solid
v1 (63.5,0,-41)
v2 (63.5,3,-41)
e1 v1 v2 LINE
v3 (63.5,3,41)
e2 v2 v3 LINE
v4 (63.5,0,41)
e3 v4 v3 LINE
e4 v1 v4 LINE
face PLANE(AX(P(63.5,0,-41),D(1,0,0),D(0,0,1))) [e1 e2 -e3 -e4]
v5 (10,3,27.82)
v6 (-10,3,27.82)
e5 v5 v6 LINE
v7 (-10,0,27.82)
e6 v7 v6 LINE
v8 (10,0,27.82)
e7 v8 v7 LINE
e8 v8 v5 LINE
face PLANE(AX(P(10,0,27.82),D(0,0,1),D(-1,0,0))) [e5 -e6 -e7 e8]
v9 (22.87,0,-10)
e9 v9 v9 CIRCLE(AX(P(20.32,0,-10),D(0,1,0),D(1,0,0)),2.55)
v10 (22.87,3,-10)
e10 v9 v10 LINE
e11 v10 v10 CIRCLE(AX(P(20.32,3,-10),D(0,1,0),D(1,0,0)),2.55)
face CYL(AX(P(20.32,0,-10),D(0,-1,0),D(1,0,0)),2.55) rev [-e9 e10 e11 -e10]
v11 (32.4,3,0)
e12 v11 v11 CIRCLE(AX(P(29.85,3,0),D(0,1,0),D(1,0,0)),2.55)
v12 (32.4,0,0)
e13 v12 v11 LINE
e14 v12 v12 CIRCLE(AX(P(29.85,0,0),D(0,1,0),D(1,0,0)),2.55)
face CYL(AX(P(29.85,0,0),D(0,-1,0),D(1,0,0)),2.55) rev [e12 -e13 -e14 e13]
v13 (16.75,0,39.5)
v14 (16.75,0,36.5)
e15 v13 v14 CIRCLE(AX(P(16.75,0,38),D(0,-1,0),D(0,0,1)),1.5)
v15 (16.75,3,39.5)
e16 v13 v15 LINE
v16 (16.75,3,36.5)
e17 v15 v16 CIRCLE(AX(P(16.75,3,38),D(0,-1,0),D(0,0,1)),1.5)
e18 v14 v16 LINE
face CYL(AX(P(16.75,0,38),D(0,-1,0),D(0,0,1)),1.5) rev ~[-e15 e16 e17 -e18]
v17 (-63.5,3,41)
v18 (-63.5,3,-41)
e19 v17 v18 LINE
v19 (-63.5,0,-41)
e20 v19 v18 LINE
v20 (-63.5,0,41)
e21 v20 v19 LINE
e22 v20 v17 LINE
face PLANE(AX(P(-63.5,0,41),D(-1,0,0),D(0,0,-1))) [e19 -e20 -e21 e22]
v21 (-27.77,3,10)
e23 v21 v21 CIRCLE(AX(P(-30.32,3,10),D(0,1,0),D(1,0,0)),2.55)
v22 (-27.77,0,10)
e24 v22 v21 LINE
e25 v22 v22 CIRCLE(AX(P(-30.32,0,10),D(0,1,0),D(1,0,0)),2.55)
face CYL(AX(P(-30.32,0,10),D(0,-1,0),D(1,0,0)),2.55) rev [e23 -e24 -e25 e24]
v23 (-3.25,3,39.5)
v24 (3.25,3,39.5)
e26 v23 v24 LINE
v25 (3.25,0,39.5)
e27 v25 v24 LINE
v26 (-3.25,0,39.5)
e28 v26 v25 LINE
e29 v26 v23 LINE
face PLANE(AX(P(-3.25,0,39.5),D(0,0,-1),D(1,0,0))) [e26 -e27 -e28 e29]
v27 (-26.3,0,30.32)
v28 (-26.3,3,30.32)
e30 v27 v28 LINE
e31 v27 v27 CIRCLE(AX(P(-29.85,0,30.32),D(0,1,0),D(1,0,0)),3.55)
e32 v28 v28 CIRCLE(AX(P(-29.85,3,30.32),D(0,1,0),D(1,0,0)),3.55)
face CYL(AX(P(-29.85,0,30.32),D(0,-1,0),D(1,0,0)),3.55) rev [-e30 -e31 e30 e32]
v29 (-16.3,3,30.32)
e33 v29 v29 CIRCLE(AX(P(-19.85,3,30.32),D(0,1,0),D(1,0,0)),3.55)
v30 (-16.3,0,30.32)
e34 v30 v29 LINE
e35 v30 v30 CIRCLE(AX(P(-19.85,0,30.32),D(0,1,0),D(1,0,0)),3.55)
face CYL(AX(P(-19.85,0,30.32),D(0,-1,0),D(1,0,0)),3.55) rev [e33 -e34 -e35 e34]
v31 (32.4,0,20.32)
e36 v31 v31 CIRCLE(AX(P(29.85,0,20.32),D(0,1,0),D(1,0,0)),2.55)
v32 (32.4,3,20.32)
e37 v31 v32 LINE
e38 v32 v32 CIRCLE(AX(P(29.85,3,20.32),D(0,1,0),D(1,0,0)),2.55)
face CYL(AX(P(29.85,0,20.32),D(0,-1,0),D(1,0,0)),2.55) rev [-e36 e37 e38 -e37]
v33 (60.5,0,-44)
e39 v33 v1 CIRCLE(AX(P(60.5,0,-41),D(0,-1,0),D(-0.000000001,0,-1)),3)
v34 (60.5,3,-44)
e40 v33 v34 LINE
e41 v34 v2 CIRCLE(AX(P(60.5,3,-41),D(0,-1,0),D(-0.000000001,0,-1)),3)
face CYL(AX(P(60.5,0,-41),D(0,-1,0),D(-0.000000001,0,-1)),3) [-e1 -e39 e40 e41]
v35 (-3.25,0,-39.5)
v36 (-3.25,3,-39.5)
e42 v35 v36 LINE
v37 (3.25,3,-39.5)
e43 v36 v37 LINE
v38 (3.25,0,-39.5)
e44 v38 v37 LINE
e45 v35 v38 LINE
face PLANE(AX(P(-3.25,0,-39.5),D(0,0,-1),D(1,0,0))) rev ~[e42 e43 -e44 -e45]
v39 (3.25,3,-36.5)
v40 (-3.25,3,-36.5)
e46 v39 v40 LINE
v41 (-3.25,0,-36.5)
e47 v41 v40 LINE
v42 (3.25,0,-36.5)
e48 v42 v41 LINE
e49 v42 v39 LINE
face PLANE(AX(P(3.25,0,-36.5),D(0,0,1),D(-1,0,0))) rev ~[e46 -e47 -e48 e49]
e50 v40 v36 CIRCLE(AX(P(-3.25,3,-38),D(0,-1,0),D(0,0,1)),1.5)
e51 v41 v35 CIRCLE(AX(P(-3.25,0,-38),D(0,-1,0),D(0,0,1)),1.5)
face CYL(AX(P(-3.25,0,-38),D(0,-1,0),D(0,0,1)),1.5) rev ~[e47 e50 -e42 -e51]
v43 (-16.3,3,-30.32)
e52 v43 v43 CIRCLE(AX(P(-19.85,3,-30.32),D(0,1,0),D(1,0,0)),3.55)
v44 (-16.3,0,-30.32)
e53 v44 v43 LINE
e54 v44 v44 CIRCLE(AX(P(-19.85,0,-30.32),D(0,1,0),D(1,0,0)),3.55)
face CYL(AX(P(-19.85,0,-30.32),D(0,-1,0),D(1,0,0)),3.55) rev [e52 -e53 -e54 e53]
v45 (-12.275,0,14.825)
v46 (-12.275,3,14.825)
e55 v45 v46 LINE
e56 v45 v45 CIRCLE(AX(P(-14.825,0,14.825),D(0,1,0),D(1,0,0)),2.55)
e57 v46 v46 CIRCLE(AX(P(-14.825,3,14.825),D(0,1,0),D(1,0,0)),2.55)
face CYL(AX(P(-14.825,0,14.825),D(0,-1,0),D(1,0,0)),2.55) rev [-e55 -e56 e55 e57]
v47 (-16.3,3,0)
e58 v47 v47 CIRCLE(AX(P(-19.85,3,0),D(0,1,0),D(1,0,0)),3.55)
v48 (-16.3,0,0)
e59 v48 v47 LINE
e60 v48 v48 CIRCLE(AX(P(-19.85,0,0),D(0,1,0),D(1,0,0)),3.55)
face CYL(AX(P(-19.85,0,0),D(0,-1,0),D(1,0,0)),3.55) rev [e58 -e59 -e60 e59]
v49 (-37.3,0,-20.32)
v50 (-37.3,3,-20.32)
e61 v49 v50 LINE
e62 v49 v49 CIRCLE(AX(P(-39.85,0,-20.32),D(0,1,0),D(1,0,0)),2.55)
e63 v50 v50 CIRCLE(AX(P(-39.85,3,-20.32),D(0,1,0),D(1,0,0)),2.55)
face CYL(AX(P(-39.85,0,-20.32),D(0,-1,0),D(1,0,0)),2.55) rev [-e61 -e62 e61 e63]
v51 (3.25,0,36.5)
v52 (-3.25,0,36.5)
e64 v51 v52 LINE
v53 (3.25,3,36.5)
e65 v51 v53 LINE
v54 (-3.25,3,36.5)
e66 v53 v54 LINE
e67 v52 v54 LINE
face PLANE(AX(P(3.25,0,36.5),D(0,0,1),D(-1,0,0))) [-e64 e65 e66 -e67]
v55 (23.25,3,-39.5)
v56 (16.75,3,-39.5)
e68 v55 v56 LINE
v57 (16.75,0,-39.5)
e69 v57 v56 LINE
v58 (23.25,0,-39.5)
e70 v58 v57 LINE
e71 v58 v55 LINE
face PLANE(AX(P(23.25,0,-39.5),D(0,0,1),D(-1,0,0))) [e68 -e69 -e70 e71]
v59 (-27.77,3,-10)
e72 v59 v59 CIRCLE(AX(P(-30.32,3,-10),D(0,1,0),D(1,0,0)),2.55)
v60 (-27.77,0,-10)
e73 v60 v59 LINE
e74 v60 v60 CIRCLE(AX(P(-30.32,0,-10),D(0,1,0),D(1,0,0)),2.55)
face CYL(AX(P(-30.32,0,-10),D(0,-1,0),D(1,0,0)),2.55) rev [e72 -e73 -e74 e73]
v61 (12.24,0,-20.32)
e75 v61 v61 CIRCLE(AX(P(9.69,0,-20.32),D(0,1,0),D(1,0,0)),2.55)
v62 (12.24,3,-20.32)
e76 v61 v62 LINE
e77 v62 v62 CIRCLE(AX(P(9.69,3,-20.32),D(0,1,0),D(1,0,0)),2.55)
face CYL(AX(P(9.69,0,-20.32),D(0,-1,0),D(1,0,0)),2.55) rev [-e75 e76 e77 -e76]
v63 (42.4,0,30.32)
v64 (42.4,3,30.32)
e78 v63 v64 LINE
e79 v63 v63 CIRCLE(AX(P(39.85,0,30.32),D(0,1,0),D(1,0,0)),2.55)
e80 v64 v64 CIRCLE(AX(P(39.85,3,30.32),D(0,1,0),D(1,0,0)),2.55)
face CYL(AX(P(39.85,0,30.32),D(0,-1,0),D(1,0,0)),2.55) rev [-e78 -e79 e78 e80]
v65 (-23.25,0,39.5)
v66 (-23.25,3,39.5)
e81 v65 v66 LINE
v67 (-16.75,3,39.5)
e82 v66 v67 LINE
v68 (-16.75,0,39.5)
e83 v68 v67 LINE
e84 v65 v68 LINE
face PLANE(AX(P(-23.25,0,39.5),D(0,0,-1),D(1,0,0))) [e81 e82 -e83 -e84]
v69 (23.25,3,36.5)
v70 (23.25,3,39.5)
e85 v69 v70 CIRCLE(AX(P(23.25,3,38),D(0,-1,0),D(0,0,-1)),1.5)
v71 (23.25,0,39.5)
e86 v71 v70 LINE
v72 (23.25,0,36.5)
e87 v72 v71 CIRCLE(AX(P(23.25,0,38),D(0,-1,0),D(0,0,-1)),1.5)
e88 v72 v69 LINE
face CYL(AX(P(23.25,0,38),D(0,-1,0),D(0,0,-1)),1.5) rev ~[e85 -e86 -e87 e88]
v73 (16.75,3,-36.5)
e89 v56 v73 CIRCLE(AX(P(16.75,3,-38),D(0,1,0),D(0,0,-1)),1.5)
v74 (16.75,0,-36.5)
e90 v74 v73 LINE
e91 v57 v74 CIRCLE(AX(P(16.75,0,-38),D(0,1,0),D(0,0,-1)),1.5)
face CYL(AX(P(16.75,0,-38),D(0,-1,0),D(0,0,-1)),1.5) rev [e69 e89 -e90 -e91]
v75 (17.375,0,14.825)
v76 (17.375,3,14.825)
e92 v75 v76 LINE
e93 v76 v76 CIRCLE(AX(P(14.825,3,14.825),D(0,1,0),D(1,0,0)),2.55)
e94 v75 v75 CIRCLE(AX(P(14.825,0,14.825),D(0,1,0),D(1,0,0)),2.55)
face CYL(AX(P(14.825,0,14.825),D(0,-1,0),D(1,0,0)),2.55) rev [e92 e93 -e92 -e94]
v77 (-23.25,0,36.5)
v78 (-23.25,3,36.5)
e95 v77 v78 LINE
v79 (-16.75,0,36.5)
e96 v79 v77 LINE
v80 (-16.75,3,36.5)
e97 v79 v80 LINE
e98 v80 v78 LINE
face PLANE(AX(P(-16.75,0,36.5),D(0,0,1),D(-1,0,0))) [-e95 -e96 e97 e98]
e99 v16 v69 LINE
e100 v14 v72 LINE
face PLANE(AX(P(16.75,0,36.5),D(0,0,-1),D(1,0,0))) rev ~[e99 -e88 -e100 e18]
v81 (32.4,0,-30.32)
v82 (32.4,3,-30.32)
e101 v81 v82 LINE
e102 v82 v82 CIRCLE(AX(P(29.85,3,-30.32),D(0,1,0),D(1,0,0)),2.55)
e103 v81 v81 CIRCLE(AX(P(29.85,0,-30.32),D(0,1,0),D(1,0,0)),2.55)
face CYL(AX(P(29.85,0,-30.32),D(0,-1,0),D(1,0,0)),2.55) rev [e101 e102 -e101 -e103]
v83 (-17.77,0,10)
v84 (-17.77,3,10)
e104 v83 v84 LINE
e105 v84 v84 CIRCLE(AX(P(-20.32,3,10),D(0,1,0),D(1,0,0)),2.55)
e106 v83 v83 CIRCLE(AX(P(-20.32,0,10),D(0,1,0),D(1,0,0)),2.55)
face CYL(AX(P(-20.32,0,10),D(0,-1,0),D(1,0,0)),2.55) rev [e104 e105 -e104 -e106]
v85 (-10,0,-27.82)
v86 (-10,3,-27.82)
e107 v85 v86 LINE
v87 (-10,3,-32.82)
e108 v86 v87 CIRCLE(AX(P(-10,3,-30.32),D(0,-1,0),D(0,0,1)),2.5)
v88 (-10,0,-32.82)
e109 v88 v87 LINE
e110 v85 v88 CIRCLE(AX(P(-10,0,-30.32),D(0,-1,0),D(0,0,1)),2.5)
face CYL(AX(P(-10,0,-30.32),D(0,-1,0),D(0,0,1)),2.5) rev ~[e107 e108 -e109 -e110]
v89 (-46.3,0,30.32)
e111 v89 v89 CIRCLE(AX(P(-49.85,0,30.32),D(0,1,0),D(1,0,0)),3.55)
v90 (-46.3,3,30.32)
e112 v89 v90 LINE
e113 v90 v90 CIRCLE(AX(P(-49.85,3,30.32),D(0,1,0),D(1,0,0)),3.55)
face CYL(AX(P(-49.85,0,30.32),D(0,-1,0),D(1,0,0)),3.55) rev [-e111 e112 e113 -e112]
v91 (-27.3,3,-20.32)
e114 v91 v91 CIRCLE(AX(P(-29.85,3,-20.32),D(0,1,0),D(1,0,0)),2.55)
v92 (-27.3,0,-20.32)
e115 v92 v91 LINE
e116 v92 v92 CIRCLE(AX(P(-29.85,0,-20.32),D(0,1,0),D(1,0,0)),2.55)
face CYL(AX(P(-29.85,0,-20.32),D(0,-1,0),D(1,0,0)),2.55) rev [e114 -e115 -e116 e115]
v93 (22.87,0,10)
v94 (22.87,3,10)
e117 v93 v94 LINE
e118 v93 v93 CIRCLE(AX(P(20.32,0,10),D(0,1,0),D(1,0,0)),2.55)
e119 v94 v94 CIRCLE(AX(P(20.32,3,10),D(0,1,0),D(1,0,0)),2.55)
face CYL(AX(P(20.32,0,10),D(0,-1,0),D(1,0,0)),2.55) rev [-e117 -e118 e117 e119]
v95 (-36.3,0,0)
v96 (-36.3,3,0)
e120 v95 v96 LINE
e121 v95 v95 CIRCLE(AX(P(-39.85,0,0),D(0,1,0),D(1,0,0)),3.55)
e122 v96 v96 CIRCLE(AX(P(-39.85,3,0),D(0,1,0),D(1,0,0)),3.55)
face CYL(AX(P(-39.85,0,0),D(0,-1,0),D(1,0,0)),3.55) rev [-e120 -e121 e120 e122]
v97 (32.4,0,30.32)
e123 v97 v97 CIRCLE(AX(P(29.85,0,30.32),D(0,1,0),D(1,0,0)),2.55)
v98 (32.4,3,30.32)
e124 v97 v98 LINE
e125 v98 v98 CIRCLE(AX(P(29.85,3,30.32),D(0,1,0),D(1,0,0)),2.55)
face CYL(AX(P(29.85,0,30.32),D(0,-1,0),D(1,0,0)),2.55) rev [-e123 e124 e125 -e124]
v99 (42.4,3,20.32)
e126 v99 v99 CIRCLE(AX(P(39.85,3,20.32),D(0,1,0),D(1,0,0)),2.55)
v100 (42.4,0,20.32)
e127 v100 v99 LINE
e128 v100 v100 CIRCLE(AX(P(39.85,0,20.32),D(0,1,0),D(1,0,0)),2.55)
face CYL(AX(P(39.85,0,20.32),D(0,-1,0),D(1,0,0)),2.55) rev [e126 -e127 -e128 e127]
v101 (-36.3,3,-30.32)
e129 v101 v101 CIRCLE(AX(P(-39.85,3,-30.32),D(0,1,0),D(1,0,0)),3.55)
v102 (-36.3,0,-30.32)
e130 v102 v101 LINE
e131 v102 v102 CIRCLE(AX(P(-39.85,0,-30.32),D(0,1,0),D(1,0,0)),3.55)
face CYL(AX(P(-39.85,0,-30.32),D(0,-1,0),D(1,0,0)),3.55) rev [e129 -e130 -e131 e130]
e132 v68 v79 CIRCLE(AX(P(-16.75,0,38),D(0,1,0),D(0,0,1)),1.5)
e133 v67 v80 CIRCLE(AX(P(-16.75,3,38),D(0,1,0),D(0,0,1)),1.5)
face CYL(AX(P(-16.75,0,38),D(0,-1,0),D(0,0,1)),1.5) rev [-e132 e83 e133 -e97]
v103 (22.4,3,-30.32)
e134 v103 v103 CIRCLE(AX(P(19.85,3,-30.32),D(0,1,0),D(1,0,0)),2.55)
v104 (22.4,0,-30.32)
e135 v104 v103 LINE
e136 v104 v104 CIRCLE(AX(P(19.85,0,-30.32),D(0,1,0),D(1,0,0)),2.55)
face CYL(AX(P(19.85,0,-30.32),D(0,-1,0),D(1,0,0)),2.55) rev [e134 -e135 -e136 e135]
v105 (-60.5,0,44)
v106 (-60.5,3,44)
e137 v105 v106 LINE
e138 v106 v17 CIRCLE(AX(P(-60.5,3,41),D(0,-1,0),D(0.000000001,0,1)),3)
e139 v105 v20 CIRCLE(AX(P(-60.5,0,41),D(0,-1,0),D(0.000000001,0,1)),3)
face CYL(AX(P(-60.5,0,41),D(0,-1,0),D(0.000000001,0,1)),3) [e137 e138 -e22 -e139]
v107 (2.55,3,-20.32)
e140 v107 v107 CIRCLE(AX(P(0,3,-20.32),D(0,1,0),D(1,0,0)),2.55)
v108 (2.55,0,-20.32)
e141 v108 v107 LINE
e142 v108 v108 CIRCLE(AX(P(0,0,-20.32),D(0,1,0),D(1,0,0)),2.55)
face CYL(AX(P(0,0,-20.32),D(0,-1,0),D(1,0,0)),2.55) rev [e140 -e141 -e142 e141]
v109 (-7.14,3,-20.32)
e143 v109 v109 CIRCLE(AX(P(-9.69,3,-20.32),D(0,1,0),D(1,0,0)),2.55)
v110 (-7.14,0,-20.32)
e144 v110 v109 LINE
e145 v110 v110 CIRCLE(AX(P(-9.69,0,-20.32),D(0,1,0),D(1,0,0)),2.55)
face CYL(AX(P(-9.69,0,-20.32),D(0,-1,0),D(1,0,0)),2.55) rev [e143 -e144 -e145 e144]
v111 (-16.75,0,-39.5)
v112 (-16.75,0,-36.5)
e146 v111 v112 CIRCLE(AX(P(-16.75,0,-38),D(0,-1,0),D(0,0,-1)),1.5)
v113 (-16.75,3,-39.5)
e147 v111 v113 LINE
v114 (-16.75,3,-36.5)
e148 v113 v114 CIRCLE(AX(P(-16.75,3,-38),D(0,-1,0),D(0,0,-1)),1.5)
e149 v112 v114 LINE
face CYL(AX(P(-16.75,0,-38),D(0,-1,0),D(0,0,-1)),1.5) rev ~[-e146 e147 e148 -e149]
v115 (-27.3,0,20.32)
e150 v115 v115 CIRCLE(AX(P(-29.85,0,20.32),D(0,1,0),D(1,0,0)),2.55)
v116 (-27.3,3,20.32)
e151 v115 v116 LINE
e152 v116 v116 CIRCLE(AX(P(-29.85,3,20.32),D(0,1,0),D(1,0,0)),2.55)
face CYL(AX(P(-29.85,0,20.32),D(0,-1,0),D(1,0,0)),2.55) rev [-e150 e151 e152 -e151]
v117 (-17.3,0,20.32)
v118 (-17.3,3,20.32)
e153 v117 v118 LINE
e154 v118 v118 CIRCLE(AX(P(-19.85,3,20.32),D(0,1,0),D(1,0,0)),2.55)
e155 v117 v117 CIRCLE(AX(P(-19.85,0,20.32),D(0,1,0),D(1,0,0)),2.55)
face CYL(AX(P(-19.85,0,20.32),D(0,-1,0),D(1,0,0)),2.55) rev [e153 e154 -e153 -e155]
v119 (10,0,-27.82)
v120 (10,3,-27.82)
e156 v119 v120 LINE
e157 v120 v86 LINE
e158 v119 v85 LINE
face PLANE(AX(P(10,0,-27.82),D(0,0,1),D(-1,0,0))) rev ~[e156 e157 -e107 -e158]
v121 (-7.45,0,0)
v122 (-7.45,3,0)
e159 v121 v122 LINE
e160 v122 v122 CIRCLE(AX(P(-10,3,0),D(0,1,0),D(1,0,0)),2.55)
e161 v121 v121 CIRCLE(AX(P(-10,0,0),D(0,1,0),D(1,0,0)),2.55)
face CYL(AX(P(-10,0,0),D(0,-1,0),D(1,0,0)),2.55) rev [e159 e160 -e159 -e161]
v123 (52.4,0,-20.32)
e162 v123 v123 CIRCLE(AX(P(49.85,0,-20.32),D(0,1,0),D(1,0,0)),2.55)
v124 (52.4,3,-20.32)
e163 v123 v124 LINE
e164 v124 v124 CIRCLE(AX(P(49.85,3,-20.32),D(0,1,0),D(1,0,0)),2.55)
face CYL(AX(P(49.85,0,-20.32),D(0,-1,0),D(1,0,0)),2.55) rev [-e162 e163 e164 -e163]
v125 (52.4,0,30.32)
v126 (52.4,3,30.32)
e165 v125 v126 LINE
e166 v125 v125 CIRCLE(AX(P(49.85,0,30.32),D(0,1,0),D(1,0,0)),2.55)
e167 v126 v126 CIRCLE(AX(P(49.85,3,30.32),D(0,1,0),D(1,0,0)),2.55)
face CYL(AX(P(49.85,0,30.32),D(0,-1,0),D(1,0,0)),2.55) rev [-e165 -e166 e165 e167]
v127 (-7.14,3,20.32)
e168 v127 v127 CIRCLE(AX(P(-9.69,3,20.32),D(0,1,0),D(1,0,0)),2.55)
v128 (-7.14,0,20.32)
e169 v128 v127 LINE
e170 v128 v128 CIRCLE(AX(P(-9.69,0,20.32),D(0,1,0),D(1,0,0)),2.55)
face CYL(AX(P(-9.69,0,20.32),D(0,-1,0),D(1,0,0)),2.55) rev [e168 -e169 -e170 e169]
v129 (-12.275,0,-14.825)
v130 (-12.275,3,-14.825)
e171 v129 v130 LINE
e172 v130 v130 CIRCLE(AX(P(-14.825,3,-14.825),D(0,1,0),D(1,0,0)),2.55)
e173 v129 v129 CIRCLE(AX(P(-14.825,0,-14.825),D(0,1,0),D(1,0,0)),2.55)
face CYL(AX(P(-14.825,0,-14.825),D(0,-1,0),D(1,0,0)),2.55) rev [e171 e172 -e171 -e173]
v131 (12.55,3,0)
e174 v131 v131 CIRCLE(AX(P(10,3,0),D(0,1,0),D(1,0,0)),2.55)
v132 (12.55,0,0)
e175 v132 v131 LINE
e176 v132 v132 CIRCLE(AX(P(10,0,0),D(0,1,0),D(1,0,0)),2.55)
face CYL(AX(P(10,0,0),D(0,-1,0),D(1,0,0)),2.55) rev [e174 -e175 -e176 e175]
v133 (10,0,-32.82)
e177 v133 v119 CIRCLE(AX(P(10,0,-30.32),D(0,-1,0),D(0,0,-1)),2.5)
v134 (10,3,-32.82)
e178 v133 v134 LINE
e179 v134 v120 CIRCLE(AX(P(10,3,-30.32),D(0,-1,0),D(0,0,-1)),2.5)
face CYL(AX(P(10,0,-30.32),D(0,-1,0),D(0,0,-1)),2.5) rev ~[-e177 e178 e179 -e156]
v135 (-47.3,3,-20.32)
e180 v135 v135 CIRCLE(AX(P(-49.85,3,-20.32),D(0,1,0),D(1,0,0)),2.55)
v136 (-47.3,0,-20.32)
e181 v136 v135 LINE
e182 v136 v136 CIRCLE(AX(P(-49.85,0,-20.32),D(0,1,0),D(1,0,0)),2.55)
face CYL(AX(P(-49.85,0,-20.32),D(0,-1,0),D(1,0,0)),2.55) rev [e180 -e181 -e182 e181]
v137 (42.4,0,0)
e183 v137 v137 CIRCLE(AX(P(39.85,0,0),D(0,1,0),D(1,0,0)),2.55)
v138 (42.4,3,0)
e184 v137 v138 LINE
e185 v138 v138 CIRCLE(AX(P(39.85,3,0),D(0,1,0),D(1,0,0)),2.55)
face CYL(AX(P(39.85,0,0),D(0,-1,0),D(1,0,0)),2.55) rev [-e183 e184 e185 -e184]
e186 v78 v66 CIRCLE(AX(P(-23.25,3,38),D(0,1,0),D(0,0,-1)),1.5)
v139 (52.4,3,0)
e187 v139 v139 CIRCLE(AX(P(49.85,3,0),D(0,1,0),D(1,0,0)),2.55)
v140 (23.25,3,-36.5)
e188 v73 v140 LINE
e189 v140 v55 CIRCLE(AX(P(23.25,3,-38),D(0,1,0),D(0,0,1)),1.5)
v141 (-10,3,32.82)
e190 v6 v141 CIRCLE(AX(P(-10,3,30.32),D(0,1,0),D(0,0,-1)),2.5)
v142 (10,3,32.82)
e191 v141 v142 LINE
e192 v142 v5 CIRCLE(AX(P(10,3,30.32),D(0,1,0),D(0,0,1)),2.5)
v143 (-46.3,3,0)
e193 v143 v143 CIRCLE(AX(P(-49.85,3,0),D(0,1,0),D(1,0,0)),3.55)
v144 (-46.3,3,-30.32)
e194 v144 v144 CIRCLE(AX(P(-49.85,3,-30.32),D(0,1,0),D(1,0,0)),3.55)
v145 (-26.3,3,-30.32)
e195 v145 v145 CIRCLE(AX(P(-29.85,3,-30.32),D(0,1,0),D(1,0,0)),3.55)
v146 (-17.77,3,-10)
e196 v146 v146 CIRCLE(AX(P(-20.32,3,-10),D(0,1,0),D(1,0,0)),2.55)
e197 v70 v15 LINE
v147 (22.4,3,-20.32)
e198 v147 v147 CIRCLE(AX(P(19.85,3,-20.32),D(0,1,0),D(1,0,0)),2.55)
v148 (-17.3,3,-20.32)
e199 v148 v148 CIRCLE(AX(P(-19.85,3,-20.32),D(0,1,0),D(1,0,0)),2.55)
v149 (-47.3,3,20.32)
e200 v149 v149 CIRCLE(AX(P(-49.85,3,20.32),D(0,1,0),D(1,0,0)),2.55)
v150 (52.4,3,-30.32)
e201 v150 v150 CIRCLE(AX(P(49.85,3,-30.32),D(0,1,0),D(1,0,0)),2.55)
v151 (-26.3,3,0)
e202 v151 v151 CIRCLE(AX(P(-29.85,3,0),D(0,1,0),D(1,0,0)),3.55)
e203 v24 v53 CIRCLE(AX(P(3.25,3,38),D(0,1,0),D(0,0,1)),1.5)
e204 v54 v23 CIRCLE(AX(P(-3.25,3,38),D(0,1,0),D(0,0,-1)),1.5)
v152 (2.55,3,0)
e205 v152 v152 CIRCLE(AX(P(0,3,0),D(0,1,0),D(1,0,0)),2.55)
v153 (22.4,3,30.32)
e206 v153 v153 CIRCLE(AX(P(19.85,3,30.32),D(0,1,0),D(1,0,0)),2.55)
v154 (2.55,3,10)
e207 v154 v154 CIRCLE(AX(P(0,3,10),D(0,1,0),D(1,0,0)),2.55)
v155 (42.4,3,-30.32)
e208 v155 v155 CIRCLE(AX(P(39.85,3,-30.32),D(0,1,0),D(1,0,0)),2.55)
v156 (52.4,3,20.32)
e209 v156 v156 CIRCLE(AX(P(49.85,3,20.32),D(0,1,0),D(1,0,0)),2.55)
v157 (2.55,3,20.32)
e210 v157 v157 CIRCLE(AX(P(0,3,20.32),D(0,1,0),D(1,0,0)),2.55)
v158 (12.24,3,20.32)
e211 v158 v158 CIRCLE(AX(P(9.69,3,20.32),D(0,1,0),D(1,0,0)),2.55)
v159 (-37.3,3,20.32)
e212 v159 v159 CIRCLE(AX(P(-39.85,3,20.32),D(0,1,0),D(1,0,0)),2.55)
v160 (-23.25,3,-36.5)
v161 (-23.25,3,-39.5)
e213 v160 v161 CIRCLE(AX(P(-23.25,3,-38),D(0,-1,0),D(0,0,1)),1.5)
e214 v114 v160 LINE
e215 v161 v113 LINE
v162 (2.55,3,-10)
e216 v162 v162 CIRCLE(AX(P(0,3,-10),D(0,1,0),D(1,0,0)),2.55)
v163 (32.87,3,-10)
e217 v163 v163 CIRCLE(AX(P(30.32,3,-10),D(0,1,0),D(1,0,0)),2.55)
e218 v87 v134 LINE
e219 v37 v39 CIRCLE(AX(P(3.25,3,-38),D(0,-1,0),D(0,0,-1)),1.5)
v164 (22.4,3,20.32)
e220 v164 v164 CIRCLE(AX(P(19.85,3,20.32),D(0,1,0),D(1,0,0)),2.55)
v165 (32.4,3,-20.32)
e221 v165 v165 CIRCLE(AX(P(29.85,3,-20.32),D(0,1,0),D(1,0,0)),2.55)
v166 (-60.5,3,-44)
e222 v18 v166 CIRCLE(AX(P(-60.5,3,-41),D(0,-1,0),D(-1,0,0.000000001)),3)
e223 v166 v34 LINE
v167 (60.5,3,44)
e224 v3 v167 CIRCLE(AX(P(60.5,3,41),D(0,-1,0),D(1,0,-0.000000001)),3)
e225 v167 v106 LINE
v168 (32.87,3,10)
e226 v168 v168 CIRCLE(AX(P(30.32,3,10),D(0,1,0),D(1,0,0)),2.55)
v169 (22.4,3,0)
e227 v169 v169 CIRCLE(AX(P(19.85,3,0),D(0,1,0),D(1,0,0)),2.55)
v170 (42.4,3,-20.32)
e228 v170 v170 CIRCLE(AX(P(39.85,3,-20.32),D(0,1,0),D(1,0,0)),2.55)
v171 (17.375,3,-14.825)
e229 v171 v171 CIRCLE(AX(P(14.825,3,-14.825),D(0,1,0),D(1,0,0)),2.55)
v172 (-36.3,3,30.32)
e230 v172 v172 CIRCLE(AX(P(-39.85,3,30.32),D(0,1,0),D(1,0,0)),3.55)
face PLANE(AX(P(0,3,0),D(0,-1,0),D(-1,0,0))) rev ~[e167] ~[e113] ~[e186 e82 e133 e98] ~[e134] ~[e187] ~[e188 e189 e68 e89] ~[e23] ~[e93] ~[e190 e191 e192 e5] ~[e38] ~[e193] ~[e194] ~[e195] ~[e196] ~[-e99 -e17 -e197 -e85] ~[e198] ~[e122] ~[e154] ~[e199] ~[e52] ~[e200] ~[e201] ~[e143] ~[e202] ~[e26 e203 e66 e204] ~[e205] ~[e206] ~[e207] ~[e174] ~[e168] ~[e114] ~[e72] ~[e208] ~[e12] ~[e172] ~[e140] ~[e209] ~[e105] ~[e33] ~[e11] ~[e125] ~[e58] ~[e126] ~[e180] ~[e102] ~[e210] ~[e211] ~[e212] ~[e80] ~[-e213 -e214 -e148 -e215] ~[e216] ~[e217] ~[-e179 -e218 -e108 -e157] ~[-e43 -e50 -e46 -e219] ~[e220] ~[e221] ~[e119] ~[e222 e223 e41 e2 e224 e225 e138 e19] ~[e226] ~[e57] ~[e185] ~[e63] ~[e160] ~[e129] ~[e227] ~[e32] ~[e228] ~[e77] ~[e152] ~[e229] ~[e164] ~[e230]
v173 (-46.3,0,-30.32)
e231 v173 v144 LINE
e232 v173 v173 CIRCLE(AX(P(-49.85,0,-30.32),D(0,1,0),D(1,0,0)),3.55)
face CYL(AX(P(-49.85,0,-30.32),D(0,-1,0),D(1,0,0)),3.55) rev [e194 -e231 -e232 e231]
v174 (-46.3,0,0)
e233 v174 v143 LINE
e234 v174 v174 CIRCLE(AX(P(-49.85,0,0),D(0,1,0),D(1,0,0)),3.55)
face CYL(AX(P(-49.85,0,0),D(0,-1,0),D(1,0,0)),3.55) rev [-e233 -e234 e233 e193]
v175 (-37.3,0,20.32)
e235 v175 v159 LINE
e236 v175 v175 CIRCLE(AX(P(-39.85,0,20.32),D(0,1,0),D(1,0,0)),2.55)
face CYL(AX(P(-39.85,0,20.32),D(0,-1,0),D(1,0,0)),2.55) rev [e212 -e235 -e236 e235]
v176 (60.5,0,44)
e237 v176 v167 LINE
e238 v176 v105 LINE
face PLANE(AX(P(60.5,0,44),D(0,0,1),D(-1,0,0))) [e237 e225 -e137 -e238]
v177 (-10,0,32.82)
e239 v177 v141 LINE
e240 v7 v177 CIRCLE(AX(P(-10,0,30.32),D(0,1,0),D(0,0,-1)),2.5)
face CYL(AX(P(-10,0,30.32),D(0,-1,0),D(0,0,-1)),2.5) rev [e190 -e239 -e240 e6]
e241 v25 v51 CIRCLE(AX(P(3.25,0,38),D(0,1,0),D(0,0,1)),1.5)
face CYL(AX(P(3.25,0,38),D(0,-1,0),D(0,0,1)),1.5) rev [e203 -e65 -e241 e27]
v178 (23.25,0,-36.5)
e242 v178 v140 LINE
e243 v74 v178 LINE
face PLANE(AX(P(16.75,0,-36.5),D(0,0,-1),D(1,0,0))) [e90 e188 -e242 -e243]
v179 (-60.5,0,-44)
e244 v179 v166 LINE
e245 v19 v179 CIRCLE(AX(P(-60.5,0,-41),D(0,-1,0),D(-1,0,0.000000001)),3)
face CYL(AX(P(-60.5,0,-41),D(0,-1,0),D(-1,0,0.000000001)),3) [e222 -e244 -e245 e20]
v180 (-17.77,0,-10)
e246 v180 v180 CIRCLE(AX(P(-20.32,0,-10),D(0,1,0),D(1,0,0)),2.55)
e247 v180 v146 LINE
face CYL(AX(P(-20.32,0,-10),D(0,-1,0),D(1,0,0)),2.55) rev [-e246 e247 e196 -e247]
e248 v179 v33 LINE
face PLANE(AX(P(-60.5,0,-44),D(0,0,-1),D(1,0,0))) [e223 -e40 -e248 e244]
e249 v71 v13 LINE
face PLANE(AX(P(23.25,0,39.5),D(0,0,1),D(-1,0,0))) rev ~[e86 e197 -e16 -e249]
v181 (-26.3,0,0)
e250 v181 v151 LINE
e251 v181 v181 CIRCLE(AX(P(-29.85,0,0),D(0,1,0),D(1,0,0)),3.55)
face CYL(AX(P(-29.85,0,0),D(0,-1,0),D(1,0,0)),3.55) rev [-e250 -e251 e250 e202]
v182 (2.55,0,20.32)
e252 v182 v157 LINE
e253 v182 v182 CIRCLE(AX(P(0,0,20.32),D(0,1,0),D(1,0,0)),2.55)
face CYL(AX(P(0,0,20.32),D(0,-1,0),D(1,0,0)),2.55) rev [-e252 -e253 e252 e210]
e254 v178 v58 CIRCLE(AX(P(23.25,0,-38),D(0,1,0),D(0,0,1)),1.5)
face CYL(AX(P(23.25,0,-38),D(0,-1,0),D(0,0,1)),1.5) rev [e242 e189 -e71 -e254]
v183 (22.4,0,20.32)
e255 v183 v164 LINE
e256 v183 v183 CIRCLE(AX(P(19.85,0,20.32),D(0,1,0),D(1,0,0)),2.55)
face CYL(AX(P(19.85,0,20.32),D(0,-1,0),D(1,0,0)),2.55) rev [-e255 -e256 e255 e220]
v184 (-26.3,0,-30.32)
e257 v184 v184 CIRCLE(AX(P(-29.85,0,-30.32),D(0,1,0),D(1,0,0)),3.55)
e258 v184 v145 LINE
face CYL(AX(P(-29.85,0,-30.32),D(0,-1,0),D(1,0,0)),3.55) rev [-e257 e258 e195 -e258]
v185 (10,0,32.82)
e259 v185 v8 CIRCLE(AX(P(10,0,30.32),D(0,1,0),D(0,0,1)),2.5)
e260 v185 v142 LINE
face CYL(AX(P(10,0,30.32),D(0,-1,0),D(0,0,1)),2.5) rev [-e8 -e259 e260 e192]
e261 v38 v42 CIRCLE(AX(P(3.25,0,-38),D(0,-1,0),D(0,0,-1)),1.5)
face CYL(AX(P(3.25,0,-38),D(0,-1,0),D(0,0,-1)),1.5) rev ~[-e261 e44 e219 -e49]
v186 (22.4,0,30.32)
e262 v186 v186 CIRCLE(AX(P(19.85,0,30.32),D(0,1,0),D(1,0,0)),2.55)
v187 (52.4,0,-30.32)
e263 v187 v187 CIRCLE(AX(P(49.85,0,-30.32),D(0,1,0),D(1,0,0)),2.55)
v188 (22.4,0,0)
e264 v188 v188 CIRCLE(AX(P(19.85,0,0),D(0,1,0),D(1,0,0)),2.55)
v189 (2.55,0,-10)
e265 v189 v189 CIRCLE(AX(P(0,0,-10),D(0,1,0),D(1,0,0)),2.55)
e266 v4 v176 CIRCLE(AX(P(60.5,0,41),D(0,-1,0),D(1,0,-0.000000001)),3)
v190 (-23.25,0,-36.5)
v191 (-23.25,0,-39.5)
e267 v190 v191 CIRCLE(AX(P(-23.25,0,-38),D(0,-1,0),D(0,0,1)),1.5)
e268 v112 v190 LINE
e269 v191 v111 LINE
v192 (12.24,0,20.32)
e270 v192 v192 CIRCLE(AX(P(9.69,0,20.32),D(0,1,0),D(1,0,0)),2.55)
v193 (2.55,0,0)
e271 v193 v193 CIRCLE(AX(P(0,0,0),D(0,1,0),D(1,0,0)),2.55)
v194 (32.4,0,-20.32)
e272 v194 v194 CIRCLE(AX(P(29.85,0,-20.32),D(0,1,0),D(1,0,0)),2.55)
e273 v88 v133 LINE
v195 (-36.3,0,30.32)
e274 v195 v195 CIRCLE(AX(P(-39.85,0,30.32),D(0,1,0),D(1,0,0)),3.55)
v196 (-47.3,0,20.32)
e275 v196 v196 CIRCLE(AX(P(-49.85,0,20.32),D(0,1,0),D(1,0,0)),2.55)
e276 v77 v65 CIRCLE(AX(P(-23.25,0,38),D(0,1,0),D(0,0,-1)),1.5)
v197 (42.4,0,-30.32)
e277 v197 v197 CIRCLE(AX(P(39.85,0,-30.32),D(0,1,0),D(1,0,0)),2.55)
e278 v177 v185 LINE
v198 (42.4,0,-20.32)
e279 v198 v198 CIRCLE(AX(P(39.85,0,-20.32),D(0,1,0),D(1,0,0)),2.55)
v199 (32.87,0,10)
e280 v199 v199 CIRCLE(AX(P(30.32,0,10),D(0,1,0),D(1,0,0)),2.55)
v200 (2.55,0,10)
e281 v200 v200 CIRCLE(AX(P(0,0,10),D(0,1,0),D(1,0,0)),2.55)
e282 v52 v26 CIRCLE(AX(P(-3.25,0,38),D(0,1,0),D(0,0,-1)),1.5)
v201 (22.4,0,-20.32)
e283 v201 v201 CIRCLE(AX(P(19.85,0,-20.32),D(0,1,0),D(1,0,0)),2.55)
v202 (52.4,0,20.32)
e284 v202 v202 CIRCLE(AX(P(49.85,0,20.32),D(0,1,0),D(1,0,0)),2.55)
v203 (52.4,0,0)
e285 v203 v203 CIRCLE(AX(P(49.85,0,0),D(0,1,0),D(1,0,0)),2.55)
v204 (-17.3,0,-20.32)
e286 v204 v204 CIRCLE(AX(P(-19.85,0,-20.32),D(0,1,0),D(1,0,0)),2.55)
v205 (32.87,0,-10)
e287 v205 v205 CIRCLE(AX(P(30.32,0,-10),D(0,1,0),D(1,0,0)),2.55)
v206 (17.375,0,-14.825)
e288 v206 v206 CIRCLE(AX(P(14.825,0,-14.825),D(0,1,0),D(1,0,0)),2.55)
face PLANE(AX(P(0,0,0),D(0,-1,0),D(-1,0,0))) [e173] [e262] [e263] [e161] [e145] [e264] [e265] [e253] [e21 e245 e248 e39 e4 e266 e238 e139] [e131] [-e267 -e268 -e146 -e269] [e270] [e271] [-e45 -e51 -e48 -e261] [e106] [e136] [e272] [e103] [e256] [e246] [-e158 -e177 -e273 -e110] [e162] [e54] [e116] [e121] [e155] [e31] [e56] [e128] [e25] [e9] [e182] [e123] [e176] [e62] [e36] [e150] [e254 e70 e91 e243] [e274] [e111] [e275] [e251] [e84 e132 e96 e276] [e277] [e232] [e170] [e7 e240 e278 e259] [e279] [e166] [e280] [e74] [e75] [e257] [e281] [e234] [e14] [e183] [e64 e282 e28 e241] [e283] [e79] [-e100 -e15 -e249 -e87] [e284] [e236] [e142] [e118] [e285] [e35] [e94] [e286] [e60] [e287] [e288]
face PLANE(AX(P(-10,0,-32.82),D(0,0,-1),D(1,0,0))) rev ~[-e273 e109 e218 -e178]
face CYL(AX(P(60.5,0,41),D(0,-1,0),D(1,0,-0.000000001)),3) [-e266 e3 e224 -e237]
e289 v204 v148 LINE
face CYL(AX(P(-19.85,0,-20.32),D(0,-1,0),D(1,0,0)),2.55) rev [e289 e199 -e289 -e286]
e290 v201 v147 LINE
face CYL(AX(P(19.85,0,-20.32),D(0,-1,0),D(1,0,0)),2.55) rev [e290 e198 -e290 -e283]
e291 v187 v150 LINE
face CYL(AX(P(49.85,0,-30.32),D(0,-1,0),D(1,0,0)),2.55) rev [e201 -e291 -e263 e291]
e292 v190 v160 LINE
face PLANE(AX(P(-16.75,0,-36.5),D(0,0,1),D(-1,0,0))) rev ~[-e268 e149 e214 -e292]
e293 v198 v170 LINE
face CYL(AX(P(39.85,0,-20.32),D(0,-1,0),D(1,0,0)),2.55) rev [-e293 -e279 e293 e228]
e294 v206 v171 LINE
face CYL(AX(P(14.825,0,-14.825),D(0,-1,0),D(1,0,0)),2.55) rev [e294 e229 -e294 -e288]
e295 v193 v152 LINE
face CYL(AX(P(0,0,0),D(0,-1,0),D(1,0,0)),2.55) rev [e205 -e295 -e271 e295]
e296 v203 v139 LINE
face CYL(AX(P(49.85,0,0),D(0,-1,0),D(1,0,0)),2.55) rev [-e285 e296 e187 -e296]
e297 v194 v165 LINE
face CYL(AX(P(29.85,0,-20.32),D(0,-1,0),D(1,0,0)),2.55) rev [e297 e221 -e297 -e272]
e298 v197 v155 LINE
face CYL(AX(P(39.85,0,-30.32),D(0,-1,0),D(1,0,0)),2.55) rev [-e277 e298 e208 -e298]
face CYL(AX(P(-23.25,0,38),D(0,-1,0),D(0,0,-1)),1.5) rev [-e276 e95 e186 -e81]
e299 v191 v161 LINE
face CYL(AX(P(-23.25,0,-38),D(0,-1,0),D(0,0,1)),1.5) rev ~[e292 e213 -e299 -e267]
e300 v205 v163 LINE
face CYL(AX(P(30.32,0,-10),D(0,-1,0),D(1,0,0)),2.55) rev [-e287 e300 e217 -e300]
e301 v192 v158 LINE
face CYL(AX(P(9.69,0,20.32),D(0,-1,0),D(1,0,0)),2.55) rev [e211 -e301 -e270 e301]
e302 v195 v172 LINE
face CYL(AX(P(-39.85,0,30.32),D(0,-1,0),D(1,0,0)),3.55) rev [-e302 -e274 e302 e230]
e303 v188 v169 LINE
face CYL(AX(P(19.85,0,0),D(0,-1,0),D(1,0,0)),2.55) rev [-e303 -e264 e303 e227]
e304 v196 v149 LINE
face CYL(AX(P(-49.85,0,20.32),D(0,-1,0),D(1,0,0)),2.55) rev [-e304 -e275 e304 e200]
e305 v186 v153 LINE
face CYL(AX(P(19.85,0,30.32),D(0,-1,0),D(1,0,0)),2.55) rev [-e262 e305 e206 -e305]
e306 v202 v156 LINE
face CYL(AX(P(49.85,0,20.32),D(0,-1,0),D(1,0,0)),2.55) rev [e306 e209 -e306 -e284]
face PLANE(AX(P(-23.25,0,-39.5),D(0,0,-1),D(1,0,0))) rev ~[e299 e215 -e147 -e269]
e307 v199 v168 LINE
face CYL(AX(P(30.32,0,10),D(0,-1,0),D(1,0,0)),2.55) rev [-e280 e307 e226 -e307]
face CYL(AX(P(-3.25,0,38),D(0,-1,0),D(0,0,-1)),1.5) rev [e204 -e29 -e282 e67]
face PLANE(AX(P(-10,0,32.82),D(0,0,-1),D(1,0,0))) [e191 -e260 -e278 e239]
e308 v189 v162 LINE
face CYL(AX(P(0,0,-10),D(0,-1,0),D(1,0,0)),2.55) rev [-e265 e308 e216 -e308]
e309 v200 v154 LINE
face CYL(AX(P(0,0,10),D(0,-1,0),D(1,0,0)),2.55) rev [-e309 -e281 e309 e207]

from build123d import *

# Parameters (mm, degrees)
SKETCH1_R           = 3.55
SKETCH1_R_2         = 2.55
BOSS_EXTRUDE1_DEPTH = 3


with BuildPart() as part:
    # Sketch1 → Boss-Extrude1 (new body)
    with BuildSketch(Plane(origin=(0, 0, 0), x_dir=(1, 0, 0), z_dir=(0, 1, 0))):
        with BuildLine():
            Line((60.5, -44), (-60.5, -44))
            ThreePointArc((-60.5, -44), (-62.621320344, -43.121320344), (-63.5, -41))
            Line((-63.5, -41), (-63.5, 41))
            ThreePointArc((-63.5, 41), (-62.621320344, 43.121320344), (-60.5, 44))
            Line((-60.5, 44), (60.5, 44))
            ThreePointArc((60.5, 44), (62.621320344, 43.121320344), (63.5, 41))
            Line((63.5, 41), (63.5, -41))
            ThreePointArc((63.5, -41), (62.621320344, -43.121320344), (60.5, -44))
        make_face()
        with Locations((-39.85, 30.32)):
            Circle(SKETCH1_R, mode=Mode.SUBTRACT)
        with Locations((0, 10)):
            Circle(SKETCH1_R_2, mode=Mode.SUBTRACT)
        Circle(SKETCH1_R_2, mode=Mode.SUBTRACT)
        with Locations((10, 0)):
            Circle(SKETCH1_R_2, mode=Mode.SUBTRACT)
        with Locations((-10, 0)):
            Circle(SKETCH1_R_2, mode=Mode.SUBTRACT)
        with Locations((-49.85, 30.32)):
            Circle(SKETCH1_R, mode=Mode.SUBTRACT)
        with Locations((-49.85, 0)):
            Circle(SKETCH1_R, mode=Mode.SUBTRACT)
        with Locations((-49.85, -30.32)):
            Circle(SKETCH1_R, mode=Mode.SUBTRACT)
        with Locations((-20.32, 10)):
            Circle(SKETCH1_R_2, mode=Mode.SUBTRACT)
        with Locations((-30.32, 10)):
            Circle(SKETCH1_R_2, mode=Mode.SUBTRACT)
        with Locations((-14.825, 14.825)):
            Circle(SKETCH1_R_2, mode=Mode.SUBTRACT)
        with Locations((0, 20.32)):
            Circle(SKETCH1_R_2, mode=Mode.SUBTRACT)
        with Locations((-49.85, 20.32)):
            Circle(SKETCH1_R_2, mode=Mode.SUBTRACT)
        with Locations((-39.85, 20.32)):
            Circle(SKETCH1_R_2, mode=Mode.SUBTRACT)
        with Locations((-29.85, 20.32)):
            Circle(SKETCH1_R_2, mode=Mode.SUBTRACT)
        with Locations((-39.85, 0)):
            Circle(SKETCH1_R, mode=Mode.SUBTRACT)
        with Locations((14.825, 14.825)):
            Circle(SKETCH1_R_2, mode=Mode.SUBTRACT)
        with Locations((20.32, 10)):
            Circle(SKETCH1_R_2, mode=Mode.SUBTRACT)
        with Locations((30.32, 10)):
            Circle(SKETCH1_R_2, mode=Mode.SUBTRACT)
        with Locations((39.85, 30.32)):
            Circle(SKETCH1_R_2, mode=Mode.SUBTRACT)
        with Locations((49.85, 30.32)):
            Circle(SKETCH1_R_2, mode=Mode.SUBTRACT)
        with Locations((49.85, 0)):
            Circle(SKETCH1_R_2, mode=Mode.SUBTRACT)
        with Locations((30.32, -10)):
            Circle(SKETCH1_R_2, mode=Mode.SUBTRACT)
        with Locations((49.85, -30.32)):
            Circle(SKETCH1_R_2, mode=Mode.SUBTRACT)
        with Locations((29.85, 30.32)):
            Circle(SKETCH1_R_2, mode=Mode.SUBTRACT)
        with Locations((20.32, -10)):
            Circle(SKETCH1_R_2, mode=Mode.SUBTRACT)
        with Locations((0, -10)):
            Circle(SKETCH1_R_2, mode=Mode.SUBTRACT)
        with Locations((14.825, -14.825)):
            Circle(SKETCH1_R_2, mode=Mode.SUBTRACT)
        with Locations((-29.85, 0)):
            Circle(SKETCH1_R, mode=Mode.SUBTRACT)
        with Locations((-19.85, 20.32)):
            Circle(SKETCH1_R_2, mode=Mode.SUBTRACT)
        with Locations((-9.69, 20.32)):
            Circle(SKETCH1_R_2, mode=Mode.SUBTRACT)
        with Locations((9.69, 20.32)):
            Circle(SKETCH1_R_2, mode=Mode.SUBTRACT)
        with Locations((-19.85, 0)):
            Circle(SKETCH1_R, mode=Mode.SUBTRACT)
        with Locations((-14.825, -14.825)):
            Circle(SKETCH1_R_2, mode=Mode.SUBTRACT)
        with Locations((-20.32, -10)):
            Circle(SKETCH1_R_2, mode=Mode.SUBTRACT)
        with Locations((-30.32, -10)):
            Circle(SKETCH1_R_2, mode=Mode.SUBTRACT)
        with Locations((-29.85, 30.32)):
            Circle(SKETCH1_R, mode=Mode.SUBTRACT)
        with Locations((-19.85, 30.32)):
            Circle(SKETCH1_R, mode=Mode.SUBTRACT)
        with Locations((19.85, 30.32)):
            Circle(SKETCH1_R_2, mode=Mode.SUBTRACT)
        with Locations((19.85, 20.32)):
            Circle(SKETCH1_R_2, mode=Mode.SUBTRACT)
        with Locations((29.85, 20.32)):
            Circle(SKETCH1_R_2, mode=Mode.SUBTRACT)
        with Locations((39.85, 20.32)):
            Circle(SKETCH1_R_2, mode=Mode.SUBTRACT)
        with Locations((49.85, 20.32)):
            Circle(SKETCH1_R_2, mode=Mode.SUBTRACT)
        with Locations((39.85, 0)):
            Circle(SKETCH1_R_2, mode=Mode.SUBTRACT)
        with Locations((29.85, 0)):
            Circle(SKETCH1_R_2, mode=Mode.SUBTRACT)
        with Locations((19.85, 0)):
            Circle(SKETCH1_R_2, mode=Mode.SUBTRACT)
        with Locations((19.85, -30.32)):
            Circle(SKETCH1_R_2, mode=Mode.SUBTRACT)
        with Locations((29.85, -30.32)):
            Circle(SKETCH1_R_2, mode=Mode.SUBTRACT)
        with Locations((0, -20.32)):
            Circle(SKETCH1_R_2, mode=Mode.SUBTRACT)
        with Locations((39.85, -30.32)):
            Circle(SKETCH1_R_2, mode=Mode.SUBTRACT)
        with Locations((49.85, -20.32)):
            Circle(SKETCH1_R_2, mode=Mode.SUBTRACT)
        with Locations((39.85, -20.32)):
            Circle(SKETCH1_R_2, mode=Mode.SUBTRACT)
        with Locations((29.85, -20.32)):
            Circle(SKETCH1_R_2, mode=Mode.SUBTRACT)
        with Locations((19.85, -20.32)):
            Circle(SKETCH1_R_2, mode=Mode.SUBTRACT)
        with Locations((9.69, -20.32)):
            Circle(SKETCH1_R_2, mode=Mode.SUBTRACT)
        with Locations((-9.69, -20.32)):
            Circle(SKETCH1_R_2, mode=Mode.SUBTRACT)
        with Locations((-19.85, -20.32)):
            Circle(SKETCH1_R_2, mode=Mode.SUBTRACT)
        with Locations((-29.85, -20.32)):
            Circle(SKETCH1_R_2, mode=Mode.SUBTRACT)
        with Locations((-39.85, -20.32)):
            Circle(SKETCH1_R_2, mode=Mode.SUBTRACT)
        with Locations((-49.85, -20.32)):
            Circle(SKETCH1_R_2, mode=Mode.SUBTRACT)
        with Locations((-19.85, -30.32)):
            Circle(SKETCH1_R, mode=Mode.SUBTRACT)
        with Locations((-29.85, -30.32)):
            Circle(SKETCH1_R, mode=Mode.SUBTRACT)
        with Locations((-39.85, -30.32)):
            Circle(SKETCH1_R, mode=Mode.SUBTRACT)
        with BuildLine():
            Line((10, 27.82), (-10, 27.82))
            ThreePointArc((-10, 27.82), (-12.5, 30.32), (-10, 32.82))
            Line((-10, 32.82), (10, 32.82))
            ThreePointArc((10, 32.82), (12.5, 30.32), (10, 27.82))
        make_face(mode=Mode.SUBTRACT)
        with BuildLine():
            Line((3.25, 36.5), (-3.25, 36.5))
            ThreePointArc((-3.25, 36.5), (-4.75, 38), (-3.25, 39.5))
            Line((-3.25, 39.5), (3.25, 39.5))
            ThreePointArc((3.25, 39.5), (4.75, 38), (3.25, 36.5))
        make_face(mode=Mode.SUBTRACT)
        with BuildLine():
            Line((-16.75, 36.5), (-23.25, 36.5))
            ThreePointArc((-23.25, 36.5), (-24.75, 38), (-23.25, 39.5))
            Line((-23.25, 39.5), (-16.75, 39.5))
            ThreePointArc((-16.75, 39.5), (-15.25, 38), (-16.75, 36.5))
        make_face(mode=Mode.SUBTRACT)
        with BuildLine():
            Line((16.75, 36.5), (23.25, 36.5))
            ThreePointArc((23.25, 36.5), (24.75, 38), (23.25, 39.5))
            Line((23.25, 39.5), (16.75, 39.5))
            ThreePointArc((16.75, 39.5), (15.25, 38), (16.75, 36.5))
        make_face(mode=Mode.SUBTRACT)
        with BuildLine():
            Line((10, -27.82), (-10, -27.82))
            ThreePointArc((-10, -27.82), (-12.5, -30.32), (-10, -32.82))
            Line((-10, -32.82), (10, -32.82))
            ThreePointArc((10, -32.82), (12.5, -30.32), (10, -27.82))
        make_face(mode=Mode.SUBTRACT)
        with BuildLine():
            Line((-16.75, -36.5), (-23.25, -36.5))
            ThreePointArc((-23.25, -36.5), (-24.75, -38), (-23.25, -39.5))
            Line((-23.25, -39.5), (-16.75, -39.5))
            ThreePointArc((-16.75, -39.5), (-15.25, -38), (-16.75, -36.5))
        make_face(mode=Mode.SUBTRACT)
        with BuildLine():
            Line((3.25, -36.5), (-3.25, -36.5))
            ThreePointArc((-3.25, -36.5), (-4.75, -38), (-3.25, -39.5))
            Line((-3.25, -39.5), (3.25, -39.5))
            ThreePointArc((3.25, -39.5), (4.75, -38), (3.25, -36.5))
        make_face(mode=Mode.SUBTRACT)
        with BuildLine():
            Line((16.75, -36.5), (23.25, -36.5))
            ThreePointArc((23.25, -36.5), (24.75, -38), (23.25, -39.5))
            Line((23.25, -39.5), (16.75, -39.5))
            ThreePointArc((16.75, -39.5), (15.25, -38), (16.75, -36.5))
        make_face(mode=Mode.SUBTRACT)
    extrude(amount=BOSS_EXTRUDE1_DEPTH)


solid = part.part
